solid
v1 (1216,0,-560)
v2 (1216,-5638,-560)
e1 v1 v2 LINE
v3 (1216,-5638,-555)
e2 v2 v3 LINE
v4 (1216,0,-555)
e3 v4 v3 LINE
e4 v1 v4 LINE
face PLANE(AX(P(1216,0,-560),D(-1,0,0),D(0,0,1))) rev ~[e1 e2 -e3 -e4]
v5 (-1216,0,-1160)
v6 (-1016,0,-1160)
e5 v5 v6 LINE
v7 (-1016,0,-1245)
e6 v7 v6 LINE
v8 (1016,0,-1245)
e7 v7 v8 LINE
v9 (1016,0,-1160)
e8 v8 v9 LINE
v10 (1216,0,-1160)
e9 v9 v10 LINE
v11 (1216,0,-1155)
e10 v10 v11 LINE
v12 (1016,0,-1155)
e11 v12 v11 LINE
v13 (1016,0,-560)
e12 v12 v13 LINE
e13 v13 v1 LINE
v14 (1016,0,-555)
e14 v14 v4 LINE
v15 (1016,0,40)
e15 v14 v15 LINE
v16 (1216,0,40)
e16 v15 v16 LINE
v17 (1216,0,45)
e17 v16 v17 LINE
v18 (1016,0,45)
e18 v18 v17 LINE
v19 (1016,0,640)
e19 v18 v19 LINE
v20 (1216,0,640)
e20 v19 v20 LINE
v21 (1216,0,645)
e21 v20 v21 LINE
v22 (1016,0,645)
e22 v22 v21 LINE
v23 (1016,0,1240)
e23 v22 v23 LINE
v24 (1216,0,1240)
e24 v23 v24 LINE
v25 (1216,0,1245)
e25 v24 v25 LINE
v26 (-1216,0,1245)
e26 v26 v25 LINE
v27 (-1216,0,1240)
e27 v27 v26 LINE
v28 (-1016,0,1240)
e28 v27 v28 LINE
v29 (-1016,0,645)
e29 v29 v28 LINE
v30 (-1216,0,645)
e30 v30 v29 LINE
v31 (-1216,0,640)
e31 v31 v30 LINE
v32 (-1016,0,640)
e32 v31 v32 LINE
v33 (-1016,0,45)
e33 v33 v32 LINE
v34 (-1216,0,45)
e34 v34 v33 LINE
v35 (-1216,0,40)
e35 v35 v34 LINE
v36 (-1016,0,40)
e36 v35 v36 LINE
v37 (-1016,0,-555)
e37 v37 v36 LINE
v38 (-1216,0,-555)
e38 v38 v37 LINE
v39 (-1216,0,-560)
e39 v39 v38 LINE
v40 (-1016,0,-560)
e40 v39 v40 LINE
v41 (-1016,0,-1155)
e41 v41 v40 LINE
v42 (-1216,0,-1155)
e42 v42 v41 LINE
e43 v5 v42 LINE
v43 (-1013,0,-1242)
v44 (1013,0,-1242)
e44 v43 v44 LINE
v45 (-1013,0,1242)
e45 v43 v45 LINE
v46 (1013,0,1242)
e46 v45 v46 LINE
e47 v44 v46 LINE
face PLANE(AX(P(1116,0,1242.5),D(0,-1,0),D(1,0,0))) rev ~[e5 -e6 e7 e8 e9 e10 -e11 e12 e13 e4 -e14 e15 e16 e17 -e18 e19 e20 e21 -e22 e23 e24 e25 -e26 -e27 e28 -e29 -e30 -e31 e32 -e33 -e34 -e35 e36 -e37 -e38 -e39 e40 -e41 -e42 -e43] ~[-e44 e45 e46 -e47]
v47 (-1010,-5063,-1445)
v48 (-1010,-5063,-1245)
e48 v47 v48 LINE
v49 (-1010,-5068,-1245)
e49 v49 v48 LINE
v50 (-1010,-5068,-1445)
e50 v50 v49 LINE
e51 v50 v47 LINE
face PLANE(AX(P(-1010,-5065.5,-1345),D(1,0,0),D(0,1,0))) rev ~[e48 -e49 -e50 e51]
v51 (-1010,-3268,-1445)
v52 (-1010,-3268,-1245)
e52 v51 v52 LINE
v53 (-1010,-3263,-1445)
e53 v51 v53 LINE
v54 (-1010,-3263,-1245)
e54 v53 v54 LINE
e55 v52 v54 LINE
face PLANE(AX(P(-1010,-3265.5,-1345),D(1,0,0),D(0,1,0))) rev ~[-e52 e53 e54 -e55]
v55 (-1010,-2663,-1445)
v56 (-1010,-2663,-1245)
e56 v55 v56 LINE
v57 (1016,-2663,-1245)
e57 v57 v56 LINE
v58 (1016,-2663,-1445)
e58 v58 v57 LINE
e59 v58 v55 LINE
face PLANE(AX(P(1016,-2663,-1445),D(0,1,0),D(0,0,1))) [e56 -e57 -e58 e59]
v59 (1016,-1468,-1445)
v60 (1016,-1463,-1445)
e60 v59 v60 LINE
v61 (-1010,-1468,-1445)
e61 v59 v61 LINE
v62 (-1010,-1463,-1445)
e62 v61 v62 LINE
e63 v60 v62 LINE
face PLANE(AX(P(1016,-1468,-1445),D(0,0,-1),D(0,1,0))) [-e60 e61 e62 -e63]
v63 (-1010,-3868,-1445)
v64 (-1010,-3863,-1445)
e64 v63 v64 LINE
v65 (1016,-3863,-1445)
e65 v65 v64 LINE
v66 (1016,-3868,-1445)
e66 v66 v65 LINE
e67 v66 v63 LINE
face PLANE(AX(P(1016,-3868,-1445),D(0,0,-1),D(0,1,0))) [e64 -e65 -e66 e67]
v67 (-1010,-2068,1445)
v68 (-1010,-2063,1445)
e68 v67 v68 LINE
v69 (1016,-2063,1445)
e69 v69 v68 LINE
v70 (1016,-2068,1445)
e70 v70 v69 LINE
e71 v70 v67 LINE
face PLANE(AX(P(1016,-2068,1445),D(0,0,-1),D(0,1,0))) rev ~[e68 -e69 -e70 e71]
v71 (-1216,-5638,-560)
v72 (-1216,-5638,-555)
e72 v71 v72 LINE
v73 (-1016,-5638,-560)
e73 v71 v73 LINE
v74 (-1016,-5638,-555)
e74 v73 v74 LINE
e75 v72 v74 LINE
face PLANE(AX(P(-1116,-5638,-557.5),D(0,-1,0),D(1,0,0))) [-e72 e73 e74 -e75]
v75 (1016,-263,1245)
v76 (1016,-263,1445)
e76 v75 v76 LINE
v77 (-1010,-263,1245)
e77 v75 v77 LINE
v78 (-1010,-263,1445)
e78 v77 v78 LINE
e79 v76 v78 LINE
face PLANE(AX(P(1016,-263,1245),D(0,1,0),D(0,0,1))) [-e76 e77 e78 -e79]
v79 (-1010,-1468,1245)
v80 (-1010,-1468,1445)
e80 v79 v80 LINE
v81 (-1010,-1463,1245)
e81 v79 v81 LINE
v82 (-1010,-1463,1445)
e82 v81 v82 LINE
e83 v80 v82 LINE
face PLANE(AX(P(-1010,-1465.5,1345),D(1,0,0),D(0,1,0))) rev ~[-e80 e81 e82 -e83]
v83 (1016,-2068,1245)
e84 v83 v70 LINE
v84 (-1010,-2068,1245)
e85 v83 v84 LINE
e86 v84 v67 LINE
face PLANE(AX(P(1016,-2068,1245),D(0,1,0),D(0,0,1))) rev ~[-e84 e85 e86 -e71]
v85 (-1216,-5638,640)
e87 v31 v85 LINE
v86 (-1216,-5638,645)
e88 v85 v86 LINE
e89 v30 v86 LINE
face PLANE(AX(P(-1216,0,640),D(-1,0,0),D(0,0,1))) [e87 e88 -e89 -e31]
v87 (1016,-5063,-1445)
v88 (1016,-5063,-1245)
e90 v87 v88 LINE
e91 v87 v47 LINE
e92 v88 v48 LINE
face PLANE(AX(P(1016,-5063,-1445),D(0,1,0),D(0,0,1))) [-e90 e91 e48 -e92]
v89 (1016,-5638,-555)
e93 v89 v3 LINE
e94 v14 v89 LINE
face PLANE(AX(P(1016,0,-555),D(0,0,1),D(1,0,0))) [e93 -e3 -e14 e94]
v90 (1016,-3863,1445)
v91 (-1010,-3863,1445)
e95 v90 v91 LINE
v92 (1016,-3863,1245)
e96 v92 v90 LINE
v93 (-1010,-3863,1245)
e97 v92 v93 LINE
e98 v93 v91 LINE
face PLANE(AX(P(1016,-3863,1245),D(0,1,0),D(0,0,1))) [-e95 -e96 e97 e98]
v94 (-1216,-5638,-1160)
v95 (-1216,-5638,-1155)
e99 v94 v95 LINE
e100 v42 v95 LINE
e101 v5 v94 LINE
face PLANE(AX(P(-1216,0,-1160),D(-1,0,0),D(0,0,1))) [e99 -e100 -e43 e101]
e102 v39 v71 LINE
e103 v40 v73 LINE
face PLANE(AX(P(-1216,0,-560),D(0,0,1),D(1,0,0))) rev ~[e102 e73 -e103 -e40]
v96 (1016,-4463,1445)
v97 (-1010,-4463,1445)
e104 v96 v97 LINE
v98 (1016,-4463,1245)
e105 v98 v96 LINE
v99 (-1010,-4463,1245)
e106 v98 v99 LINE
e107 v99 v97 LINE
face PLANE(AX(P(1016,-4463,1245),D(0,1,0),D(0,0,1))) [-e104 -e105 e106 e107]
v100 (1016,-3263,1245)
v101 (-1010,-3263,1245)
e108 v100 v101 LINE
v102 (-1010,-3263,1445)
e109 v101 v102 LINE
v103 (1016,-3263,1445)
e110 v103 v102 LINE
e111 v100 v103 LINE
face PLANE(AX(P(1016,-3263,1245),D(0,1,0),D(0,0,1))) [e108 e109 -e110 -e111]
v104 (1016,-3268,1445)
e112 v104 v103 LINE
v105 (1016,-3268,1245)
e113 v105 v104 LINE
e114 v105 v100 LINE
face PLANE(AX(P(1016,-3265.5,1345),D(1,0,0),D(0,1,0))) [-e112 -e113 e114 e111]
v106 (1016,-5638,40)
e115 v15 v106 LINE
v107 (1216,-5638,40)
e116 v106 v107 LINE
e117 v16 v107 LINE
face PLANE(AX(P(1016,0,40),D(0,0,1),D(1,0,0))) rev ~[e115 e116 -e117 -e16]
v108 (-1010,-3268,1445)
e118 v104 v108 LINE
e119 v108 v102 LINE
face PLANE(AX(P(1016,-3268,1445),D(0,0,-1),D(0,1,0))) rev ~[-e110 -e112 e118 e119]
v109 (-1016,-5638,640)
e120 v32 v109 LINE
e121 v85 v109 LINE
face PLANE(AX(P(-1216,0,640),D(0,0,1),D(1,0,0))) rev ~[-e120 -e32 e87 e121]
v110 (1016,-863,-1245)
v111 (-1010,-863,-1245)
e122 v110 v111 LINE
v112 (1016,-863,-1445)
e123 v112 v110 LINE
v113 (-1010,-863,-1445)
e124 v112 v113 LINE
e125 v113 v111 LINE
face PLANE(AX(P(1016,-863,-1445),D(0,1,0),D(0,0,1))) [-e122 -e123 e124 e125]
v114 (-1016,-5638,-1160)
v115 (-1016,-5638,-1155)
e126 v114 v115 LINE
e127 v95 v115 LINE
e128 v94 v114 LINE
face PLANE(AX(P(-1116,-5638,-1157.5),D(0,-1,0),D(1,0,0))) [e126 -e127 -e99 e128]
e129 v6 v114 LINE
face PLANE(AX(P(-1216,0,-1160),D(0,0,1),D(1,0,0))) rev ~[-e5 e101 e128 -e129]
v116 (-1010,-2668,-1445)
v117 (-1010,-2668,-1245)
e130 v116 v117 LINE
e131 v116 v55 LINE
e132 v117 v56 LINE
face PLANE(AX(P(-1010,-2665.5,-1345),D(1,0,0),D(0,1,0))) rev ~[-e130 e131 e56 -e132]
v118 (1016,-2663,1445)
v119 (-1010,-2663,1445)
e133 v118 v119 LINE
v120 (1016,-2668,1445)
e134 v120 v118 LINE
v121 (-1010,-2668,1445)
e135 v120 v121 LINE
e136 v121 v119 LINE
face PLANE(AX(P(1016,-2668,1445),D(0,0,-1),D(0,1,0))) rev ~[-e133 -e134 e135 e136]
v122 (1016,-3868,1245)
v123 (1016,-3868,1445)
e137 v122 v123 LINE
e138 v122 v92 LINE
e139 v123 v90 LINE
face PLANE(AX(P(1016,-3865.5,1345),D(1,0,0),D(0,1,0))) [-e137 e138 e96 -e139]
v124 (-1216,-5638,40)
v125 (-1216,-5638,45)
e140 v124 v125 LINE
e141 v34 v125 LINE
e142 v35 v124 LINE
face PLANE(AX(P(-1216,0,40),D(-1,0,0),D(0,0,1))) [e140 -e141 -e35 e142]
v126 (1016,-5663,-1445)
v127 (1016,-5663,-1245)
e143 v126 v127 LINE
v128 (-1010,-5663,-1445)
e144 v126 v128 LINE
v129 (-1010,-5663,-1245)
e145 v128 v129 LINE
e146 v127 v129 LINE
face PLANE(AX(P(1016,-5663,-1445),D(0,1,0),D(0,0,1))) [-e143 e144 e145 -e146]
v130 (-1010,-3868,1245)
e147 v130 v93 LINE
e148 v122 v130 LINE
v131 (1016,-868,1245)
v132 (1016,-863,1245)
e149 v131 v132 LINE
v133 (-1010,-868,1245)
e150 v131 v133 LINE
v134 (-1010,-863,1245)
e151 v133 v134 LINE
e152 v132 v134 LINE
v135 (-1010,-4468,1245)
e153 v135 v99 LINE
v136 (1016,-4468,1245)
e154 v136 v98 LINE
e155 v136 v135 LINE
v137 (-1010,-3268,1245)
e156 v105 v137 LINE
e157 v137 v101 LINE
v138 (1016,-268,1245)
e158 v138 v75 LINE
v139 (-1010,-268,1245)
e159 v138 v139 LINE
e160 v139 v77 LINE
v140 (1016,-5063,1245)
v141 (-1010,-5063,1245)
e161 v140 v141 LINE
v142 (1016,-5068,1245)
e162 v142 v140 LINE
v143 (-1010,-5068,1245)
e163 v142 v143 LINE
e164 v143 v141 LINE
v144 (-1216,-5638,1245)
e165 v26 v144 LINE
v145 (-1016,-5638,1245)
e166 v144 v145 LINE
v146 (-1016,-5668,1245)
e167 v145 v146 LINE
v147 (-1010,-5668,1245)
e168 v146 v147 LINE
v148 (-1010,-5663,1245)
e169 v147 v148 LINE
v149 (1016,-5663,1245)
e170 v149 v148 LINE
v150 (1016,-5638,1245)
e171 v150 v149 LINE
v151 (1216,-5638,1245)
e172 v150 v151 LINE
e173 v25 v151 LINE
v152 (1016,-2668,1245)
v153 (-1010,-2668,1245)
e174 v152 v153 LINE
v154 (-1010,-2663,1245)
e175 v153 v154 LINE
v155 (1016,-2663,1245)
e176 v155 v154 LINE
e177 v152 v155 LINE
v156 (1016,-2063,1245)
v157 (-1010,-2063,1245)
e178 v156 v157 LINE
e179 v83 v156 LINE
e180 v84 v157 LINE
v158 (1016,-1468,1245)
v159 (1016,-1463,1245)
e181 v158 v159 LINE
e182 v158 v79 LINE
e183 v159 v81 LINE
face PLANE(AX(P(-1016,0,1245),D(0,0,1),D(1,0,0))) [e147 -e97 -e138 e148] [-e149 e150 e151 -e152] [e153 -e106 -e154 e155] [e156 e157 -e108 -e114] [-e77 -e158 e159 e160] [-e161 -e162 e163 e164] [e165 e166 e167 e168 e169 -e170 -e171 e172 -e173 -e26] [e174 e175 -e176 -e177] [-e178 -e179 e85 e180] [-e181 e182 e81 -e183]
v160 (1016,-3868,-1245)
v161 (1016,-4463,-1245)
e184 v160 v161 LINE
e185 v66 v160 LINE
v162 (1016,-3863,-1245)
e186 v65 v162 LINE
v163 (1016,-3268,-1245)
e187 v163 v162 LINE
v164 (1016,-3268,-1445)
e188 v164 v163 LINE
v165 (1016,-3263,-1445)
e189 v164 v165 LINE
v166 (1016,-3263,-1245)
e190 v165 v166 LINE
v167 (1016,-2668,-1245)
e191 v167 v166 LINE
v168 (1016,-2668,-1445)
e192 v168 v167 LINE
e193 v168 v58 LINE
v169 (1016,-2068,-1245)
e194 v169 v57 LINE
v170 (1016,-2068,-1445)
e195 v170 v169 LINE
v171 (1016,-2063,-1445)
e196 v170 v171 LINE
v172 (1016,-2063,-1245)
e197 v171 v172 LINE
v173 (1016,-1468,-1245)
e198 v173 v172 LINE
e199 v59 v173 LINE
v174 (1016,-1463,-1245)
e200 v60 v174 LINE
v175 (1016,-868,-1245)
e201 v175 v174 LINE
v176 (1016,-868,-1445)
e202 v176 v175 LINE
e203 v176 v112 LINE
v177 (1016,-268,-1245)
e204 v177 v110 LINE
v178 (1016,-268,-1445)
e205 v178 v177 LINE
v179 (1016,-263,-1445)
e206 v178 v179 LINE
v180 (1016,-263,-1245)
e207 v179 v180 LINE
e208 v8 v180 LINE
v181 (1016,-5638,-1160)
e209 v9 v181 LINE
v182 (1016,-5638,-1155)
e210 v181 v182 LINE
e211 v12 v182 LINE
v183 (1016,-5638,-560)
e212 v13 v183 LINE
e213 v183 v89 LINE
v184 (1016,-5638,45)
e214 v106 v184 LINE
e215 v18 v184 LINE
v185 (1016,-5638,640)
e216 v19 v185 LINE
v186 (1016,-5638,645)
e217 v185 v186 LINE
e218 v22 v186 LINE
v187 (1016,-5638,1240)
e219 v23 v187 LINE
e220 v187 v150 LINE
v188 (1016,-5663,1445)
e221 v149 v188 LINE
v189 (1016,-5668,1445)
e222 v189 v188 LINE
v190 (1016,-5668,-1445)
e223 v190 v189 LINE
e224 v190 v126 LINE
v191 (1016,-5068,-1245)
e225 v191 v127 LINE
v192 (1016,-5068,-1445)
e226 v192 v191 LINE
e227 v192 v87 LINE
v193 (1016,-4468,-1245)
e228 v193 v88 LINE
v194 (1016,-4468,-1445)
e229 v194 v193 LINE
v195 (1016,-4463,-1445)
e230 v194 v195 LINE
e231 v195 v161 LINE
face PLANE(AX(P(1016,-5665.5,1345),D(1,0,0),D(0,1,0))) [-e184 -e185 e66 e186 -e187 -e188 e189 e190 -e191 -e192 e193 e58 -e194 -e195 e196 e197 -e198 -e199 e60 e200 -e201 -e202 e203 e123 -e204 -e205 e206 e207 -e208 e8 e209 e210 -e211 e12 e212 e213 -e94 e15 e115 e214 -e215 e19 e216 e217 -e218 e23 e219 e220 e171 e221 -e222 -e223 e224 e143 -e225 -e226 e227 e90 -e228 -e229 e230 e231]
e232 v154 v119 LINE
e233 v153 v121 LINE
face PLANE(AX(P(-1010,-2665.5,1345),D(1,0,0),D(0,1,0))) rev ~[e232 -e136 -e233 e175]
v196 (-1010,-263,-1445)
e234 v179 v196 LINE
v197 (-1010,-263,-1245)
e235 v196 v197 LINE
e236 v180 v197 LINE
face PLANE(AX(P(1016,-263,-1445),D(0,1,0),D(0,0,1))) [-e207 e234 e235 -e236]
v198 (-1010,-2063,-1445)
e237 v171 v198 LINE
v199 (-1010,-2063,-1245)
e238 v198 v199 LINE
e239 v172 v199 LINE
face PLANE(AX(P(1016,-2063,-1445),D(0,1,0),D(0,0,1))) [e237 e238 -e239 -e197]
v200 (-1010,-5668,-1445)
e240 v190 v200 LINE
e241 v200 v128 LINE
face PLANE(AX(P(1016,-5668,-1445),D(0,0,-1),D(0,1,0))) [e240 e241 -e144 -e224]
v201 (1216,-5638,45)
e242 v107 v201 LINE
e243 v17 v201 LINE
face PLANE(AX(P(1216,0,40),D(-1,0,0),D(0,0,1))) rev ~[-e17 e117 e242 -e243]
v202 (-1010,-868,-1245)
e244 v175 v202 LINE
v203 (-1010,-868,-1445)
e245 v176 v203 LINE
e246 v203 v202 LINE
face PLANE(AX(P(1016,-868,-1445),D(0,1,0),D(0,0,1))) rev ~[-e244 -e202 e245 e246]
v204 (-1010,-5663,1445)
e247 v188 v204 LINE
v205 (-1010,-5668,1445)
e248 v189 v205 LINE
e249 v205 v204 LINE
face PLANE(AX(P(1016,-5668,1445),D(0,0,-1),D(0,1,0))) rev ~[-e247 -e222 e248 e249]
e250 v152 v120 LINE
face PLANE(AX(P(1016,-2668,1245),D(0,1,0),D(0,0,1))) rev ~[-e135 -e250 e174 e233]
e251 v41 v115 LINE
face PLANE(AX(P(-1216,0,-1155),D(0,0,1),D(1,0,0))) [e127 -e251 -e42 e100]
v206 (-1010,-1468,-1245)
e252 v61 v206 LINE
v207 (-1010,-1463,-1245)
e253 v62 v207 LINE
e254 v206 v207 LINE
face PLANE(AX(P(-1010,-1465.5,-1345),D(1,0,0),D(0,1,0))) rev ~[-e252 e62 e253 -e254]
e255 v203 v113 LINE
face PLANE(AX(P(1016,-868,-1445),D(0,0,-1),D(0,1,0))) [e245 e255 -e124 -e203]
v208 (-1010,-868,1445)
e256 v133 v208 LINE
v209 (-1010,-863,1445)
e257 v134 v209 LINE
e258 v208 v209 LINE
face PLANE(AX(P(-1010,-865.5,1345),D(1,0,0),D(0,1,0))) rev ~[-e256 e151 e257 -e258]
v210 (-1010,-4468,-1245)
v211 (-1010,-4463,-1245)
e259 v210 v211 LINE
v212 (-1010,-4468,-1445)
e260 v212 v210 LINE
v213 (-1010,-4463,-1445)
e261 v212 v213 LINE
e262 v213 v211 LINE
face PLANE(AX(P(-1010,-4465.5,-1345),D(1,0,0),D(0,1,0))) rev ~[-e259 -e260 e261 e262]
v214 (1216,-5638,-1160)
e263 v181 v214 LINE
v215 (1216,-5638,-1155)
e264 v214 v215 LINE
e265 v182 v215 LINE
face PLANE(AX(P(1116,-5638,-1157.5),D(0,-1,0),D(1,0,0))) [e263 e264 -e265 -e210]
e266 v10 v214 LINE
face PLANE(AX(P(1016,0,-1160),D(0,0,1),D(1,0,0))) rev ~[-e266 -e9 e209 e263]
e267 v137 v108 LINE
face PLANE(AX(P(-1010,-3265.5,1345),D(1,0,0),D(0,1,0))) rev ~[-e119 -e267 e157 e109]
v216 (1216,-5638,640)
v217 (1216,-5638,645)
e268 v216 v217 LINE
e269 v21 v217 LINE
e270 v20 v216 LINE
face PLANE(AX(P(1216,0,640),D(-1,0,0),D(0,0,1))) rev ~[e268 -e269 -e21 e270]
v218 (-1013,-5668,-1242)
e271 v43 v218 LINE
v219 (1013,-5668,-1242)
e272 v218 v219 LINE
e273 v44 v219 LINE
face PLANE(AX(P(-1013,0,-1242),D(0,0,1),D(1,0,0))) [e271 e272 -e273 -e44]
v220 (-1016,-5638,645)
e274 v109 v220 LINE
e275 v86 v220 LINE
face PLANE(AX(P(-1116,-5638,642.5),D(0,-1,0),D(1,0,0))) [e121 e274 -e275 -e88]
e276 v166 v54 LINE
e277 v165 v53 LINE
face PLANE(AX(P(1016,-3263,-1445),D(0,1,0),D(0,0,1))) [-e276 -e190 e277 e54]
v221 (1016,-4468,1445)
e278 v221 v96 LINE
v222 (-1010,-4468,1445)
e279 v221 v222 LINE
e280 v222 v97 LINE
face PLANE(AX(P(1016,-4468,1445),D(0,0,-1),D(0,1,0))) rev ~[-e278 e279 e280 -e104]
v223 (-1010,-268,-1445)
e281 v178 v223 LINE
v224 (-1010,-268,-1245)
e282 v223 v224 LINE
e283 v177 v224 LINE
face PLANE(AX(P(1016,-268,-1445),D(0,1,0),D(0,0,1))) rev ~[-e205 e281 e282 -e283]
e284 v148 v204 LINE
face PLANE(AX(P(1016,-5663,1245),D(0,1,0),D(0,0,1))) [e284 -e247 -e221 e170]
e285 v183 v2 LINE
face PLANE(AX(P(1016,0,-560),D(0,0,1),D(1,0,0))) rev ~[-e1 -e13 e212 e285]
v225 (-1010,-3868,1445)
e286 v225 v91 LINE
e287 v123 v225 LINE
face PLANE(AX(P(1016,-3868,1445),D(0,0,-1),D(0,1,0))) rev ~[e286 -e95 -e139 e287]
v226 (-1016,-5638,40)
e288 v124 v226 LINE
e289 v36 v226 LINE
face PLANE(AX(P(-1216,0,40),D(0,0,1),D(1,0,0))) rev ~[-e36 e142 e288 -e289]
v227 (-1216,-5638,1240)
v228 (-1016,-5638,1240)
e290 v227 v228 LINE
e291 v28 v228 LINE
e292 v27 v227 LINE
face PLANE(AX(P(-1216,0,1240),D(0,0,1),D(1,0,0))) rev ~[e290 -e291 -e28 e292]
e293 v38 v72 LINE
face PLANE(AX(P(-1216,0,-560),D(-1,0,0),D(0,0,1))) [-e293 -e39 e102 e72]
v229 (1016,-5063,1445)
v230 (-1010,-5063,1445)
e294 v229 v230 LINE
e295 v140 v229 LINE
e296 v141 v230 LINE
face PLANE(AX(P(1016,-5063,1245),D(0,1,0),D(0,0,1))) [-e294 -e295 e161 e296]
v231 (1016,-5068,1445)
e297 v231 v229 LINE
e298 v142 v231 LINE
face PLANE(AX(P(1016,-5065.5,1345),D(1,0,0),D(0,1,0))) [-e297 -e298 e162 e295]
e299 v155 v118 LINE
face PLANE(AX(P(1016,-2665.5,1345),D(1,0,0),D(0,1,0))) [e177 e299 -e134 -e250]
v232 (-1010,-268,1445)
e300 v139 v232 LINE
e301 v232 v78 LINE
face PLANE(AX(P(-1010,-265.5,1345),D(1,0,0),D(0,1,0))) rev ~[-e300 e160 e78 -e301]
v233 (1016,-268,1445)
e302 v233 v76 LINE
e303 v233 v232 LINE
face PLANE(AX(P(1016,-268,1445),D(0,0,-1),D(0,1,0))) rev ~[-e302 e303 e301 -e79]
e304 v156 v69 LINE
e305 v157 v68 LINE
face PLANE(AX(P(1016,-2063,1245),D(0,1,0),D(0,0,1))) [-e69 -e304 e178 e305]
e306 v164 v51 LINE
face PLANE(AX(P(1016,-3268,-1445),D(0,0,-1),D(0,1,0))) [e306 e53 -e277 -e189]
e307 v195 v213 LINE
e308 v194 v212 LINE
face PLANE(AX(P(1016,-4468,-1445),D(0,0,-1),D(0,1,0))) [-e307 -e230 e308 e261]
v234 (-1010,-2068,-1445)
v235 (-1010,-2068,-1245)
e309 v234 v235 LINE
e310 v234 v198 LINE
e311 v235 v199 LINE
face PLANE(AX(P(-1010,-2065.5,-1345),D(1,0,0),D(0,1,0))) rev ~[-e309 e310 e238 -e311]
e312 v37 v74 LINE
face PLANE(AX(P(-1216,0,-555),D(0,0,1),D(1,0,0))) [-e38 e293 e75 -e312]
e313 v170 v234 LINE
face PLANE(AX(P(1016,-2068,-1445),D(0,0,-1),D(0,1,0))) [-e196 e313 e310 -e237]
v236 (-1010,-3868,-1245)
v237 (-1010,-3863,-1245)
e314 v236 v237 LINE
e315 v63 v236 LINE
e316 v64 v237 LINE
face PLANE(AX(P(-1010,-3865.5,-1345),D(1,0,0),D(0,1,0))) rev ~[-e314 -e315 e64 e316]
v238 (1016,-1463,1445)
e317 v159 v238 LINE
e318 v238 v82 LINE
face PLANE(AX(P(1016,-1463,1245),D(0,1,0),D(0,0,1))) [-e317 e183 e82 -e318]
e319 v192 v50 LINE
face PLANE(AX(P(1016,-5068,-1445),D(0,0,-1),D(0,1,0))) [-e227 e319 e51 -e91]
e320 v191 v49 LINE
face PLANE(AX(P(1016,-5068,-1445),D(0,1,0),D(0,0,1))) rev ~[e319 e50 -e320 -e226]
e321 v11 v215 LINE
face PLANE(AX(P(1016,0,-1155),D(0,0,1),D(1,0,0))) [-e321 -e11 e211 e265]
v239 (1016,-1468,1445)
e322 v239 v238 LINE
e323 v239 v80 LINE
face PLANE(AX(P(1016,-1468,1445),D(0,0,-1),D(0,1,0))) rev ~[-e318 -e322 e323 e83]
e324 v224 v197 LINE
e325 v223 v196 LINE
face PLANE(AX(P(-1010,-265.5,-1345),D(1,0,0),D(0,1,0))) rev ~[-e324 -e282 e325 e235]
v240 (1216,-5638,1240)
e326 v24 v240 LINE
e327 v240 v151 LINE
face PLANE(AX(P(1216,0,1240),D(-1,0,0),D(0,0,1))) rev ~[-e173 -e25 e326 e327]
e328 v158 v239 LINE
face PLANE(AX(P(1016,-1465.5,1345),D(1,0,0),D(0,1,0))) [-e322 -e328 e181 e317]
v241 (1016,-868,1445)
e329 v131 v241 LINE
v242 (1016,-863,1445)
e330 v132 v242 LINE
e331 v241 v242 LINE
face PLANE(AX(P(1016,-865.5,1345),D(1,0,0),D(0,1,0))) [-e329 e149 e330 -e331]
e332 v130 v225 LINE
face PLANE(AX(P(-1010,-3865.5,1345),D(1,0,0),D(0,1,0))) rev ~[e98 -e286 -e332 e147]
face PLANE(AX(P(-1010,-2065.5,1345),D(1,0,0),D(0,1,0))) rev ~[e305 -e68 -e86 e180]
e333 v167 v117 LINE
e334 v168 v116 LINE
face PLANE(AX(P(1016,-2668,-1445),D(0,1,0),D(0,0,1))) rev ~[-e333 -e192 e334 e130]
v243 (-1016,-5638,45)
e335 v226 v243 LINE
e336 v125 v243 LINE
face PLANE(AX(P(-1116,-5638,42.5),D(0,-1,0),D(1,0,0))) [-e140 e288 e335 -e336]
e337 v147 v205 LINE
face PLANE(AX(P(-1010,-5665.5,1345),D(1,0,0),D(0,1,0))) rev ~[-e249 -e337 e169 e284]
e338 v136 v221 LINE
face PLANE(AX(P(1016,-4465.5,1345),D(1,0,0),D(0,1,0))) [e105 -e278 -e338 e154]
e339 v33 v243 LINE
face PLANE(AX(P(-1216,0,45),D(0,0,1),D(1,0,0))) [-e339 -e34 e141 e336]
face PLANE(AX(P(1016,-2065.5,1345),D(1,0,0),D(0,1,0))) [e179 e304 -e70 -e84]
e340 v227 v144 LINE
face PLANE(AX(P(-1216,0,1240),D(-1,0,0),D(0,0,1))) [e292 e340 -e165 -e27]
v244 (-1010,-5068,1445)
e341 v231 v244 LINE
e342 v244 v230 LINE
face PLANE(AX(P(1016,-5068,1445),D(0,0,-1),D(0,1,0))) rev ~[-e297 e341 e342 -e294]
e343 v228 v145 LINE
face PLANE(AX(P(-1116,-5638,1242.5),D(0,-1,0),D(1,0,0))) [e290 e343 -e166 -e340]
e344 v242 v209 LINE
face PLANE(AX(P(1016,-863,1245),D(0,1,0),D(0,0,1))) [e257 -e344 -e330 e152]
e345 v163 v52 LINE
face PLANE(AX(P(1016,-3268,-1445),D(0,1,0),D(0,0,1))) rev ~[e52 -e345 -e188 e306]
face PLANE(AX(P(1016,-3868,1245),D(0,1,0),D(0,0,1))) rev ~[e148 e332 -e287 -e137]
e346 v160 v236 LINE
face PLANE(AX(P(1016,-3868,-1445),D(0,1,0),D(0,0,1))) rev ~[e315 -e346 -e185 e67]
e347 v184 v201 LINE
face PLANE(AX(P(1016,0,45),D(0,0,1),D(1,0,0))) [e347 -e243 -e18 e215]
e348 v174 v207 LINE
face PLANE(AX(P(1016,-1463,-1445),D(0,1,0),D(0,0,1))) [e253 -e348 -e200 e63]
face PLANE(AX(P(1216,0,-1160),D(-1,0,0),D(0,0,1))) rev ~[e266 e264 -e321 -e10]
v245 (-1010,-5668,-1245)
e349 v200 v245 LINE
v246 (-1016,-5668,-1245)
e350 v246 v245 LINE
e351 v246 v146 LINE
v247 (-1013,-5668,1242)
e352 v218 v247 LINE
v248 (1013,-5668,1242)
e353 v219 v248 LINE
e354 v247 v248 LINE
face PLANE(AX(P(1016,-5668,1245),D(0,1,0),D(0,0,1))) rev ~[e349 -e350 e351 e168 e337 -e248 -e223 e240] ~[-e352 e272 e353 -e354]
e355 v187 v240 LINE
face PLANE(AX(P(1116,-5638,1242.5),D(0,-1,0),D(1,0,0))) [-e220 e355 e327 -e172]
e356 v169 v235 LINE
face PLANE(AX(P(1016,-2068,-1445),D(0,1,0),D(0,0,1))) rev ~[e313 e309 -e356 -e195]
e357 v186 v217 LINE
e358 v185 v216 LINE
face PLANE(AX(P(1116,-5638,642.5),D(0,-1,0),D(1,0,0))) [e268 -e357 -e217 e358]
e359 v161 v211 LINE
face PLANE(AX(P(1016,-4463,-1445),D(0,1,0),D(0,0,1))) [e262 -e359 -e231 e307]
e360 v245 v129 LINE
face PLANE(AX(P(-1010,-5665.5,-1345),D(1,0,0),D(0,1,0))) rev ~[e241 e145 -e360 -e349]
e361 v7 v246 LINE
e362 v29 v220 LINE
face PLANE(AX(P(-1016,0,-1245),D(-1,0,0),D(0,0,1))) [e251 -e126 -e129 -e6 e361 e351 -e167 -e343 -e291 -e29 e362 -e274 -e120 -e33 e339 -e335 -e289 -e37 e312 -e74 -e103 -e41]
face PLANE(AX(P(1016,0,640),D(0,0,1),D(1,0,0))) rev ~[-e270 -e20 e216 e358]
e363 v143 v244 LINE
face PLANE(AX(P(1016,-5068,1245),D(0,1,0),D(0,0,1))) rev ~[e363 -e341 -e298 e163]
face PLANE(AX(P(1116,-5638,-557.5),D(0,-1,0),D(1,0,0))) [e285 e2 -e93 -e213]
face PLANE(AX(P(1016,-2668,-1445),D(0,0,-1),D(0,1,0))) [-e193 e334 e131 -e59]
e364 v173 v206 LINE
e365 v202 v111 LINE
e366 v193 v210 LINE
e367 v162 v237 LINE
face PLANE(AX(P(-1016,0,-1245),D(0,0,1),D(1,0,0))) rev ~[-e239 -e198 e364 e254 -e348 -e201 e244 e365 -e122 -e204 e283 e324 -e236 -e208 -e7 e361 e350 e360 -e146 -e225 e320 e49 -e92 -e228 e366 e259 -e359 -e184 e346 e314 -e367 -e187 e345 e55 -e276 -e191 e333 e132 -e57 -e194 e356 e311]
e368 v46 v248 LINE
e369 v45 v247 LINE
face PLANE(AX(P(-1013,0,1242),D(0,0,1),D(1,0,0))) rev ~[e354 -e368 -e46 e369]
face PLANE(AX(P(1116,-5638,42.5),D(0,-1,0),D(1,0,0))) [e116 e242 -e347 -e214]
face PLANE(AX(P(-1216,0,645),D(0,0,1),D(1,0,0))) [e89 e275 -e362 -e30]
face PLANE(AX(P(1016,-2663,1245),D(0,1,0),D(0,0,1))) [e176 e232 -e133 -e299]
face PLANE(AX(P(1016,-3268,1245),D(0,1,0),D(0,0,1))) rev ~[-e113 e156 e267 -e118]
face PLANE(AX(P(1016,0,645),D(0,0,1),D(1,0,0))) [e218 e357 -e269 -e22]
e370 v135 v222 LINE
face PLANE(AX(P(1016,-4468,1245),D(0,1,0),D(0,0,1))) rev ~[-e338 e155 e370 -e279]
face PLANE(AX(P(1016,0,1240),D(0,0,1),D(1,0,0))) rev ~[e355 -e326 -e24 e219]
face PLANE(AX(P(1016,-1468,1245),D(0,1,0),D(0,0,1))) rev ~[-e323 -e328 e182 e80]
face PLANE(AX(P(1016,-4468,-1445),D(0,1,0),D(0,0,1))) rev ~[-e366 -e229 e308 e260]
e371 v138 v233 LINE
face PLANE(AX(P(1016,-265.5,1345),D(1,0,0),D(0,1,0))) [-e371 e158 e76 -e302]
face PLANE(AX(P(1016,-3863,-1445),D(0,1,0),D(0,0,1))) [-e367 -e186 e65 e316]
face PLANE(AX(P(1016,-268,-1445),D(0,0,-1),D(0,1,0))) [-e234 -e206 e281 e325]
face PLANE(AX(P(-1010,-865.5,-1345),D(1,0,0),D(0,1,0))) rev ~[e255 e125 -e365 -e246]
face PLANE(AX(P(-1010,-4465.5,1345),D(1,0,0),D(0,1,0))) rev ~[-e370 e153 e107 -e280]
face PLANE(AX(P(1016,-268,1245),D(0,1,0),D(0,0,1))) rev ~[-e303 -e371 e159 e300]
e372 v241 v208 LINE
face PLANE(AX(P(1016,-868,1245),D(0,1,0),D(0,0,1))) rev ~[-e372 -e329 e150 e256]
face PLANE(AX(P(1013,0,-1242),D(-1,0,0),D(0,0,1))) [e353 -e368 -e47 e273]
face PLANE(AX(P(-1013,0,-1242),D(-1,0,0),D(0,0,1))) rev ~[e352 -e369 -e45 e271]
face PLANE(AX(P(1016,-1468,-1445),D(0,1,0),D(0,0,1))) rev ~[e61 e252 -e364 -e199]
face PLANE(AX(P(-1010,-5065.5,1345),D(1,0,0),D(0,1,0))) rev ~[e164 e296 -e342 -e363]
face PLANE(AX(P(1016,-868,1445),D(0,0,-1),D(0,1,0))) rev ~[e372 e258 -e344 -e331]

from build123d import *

# Parameters (mm, degrees)
F0_W     = 2032
F0_H     = 2490
F0_W_2   = 2026
F0_H_2   = 2484
F1_DEPTH = 5668
F2_W     = 200
F2_H     = 5
F3_DEPTH = 5638
F4_W     = 5
F4_H     = 200
F5_DEPTH = 2026


with BuildPart() as f1:
    # F0 (on Front) → F1 (new body)
    with BuildSketch(Plane.XZ):
        Rectangle(F0_W, F0_H)
        Rectangle(F0_W_2, F0_H_2, mode=Mode.SUBTRACT)
    extrude(amount=F1_DEPTH)

    # F2 (on Front) → F3 (join)
    with BuildSketch(Plane.XZ):
        with Locations((1116, 1242.5)):
            Rectangle(F2_W, F2_H)
        with Locations((1116, 642.5)):
            Rectangle(F2_W, F2_H)
        with Locations((1116, 42.5)):
            Rectangle(F2_W, F2_H)
        with Locations((1116, -557.5)):
            Rectangle(F2_W, F2_H)
        with Locations((1116, -1157.5)):
            Rectangle(F2_W, F2_H)
        with Locations((-1116, 1242.5)):
            Rectangle(F2_W, F2_H)
        with Locations((-1116, 642.5)):
            Rectangle(F2_W, F2_H)
        with Locations((-1116, 42.5)):
            Rectangle(F2_W, F2_H)
        with Locations((-1116, -557.5)):
            Rectangle(F2_W, F2_H)
        with Locations((-1116, -1157.5)):
            Rectangle(F2_W, F2_H)
    extrude(amount=F3_DEPTH)

    # F4 (on face) → F5 (join)
    with BuildSketch(Plane.YZ.offset(1016)):
        with Locations((-5665.5, 1345)):
            Rectangle(F4_W, F4_H)
        with Locations((-5065.5, 1345)):
            Rectangle(F4_W, F4_H)
        with Locations((-4465.5, 1345)):
            Rectangle(F4_W, F4_H)
        with Locations((-3865.5, 1345)):
            Rectangle(F4_W, F4_H)
        with Locations((-3265.5, 1345)):
            Rectangle(F4_W, F4_H)
        with Locations((-2665.5, 1345)):
            Rectangle(F4_W, F4_H)
        with Locations((-2065.5, 1345)):
            Rectangle(F4_W, F4_H)
        with Locations((-1465.5, 1345)):
            Rectangle(F4_W, F4_H)
        with Locations((-865.5, 1345)):
            Rectangle(F4_W, F4_H)
        with Locations((-265.5, 1345)):
            Rectangle(F4_W, F4_H)
        with Locations((-5665.5, -1345)):
            Rectangle(F4_W, F4_H)
        with Locations((-5065.5, -1345)):
            Rectangle(F4_W, F4_H)
        with Locations((-4465.5, -1345)):
            Rectangle(F4_W, F4_H)
        with Locations((-3865.5, -1345)):
            Rectangle(F4_W, F4_H)
        with Locations((-3265.5, -1345)):
            Rectangle(F4_W, F4_H)
        with Locations((-2665.5, -1345)):
            Rectangle(F4_W, F4_H)
        with Locations((-2065.5, -1345)):
            Rectangle(F4_W, F4_H)
        with Locations((-1465.5, -1345)):
            Rectangle(F4_W, F4_H)
        with Locations((-865.5, -1345)):
            Rectangle(F4_W, F4_H)
        with Locations((-265.5, -1345)):
            Rectangle(F4_W, F4_H)
    extrude(amount=-F5_DEPTH)


solid = f1.part
